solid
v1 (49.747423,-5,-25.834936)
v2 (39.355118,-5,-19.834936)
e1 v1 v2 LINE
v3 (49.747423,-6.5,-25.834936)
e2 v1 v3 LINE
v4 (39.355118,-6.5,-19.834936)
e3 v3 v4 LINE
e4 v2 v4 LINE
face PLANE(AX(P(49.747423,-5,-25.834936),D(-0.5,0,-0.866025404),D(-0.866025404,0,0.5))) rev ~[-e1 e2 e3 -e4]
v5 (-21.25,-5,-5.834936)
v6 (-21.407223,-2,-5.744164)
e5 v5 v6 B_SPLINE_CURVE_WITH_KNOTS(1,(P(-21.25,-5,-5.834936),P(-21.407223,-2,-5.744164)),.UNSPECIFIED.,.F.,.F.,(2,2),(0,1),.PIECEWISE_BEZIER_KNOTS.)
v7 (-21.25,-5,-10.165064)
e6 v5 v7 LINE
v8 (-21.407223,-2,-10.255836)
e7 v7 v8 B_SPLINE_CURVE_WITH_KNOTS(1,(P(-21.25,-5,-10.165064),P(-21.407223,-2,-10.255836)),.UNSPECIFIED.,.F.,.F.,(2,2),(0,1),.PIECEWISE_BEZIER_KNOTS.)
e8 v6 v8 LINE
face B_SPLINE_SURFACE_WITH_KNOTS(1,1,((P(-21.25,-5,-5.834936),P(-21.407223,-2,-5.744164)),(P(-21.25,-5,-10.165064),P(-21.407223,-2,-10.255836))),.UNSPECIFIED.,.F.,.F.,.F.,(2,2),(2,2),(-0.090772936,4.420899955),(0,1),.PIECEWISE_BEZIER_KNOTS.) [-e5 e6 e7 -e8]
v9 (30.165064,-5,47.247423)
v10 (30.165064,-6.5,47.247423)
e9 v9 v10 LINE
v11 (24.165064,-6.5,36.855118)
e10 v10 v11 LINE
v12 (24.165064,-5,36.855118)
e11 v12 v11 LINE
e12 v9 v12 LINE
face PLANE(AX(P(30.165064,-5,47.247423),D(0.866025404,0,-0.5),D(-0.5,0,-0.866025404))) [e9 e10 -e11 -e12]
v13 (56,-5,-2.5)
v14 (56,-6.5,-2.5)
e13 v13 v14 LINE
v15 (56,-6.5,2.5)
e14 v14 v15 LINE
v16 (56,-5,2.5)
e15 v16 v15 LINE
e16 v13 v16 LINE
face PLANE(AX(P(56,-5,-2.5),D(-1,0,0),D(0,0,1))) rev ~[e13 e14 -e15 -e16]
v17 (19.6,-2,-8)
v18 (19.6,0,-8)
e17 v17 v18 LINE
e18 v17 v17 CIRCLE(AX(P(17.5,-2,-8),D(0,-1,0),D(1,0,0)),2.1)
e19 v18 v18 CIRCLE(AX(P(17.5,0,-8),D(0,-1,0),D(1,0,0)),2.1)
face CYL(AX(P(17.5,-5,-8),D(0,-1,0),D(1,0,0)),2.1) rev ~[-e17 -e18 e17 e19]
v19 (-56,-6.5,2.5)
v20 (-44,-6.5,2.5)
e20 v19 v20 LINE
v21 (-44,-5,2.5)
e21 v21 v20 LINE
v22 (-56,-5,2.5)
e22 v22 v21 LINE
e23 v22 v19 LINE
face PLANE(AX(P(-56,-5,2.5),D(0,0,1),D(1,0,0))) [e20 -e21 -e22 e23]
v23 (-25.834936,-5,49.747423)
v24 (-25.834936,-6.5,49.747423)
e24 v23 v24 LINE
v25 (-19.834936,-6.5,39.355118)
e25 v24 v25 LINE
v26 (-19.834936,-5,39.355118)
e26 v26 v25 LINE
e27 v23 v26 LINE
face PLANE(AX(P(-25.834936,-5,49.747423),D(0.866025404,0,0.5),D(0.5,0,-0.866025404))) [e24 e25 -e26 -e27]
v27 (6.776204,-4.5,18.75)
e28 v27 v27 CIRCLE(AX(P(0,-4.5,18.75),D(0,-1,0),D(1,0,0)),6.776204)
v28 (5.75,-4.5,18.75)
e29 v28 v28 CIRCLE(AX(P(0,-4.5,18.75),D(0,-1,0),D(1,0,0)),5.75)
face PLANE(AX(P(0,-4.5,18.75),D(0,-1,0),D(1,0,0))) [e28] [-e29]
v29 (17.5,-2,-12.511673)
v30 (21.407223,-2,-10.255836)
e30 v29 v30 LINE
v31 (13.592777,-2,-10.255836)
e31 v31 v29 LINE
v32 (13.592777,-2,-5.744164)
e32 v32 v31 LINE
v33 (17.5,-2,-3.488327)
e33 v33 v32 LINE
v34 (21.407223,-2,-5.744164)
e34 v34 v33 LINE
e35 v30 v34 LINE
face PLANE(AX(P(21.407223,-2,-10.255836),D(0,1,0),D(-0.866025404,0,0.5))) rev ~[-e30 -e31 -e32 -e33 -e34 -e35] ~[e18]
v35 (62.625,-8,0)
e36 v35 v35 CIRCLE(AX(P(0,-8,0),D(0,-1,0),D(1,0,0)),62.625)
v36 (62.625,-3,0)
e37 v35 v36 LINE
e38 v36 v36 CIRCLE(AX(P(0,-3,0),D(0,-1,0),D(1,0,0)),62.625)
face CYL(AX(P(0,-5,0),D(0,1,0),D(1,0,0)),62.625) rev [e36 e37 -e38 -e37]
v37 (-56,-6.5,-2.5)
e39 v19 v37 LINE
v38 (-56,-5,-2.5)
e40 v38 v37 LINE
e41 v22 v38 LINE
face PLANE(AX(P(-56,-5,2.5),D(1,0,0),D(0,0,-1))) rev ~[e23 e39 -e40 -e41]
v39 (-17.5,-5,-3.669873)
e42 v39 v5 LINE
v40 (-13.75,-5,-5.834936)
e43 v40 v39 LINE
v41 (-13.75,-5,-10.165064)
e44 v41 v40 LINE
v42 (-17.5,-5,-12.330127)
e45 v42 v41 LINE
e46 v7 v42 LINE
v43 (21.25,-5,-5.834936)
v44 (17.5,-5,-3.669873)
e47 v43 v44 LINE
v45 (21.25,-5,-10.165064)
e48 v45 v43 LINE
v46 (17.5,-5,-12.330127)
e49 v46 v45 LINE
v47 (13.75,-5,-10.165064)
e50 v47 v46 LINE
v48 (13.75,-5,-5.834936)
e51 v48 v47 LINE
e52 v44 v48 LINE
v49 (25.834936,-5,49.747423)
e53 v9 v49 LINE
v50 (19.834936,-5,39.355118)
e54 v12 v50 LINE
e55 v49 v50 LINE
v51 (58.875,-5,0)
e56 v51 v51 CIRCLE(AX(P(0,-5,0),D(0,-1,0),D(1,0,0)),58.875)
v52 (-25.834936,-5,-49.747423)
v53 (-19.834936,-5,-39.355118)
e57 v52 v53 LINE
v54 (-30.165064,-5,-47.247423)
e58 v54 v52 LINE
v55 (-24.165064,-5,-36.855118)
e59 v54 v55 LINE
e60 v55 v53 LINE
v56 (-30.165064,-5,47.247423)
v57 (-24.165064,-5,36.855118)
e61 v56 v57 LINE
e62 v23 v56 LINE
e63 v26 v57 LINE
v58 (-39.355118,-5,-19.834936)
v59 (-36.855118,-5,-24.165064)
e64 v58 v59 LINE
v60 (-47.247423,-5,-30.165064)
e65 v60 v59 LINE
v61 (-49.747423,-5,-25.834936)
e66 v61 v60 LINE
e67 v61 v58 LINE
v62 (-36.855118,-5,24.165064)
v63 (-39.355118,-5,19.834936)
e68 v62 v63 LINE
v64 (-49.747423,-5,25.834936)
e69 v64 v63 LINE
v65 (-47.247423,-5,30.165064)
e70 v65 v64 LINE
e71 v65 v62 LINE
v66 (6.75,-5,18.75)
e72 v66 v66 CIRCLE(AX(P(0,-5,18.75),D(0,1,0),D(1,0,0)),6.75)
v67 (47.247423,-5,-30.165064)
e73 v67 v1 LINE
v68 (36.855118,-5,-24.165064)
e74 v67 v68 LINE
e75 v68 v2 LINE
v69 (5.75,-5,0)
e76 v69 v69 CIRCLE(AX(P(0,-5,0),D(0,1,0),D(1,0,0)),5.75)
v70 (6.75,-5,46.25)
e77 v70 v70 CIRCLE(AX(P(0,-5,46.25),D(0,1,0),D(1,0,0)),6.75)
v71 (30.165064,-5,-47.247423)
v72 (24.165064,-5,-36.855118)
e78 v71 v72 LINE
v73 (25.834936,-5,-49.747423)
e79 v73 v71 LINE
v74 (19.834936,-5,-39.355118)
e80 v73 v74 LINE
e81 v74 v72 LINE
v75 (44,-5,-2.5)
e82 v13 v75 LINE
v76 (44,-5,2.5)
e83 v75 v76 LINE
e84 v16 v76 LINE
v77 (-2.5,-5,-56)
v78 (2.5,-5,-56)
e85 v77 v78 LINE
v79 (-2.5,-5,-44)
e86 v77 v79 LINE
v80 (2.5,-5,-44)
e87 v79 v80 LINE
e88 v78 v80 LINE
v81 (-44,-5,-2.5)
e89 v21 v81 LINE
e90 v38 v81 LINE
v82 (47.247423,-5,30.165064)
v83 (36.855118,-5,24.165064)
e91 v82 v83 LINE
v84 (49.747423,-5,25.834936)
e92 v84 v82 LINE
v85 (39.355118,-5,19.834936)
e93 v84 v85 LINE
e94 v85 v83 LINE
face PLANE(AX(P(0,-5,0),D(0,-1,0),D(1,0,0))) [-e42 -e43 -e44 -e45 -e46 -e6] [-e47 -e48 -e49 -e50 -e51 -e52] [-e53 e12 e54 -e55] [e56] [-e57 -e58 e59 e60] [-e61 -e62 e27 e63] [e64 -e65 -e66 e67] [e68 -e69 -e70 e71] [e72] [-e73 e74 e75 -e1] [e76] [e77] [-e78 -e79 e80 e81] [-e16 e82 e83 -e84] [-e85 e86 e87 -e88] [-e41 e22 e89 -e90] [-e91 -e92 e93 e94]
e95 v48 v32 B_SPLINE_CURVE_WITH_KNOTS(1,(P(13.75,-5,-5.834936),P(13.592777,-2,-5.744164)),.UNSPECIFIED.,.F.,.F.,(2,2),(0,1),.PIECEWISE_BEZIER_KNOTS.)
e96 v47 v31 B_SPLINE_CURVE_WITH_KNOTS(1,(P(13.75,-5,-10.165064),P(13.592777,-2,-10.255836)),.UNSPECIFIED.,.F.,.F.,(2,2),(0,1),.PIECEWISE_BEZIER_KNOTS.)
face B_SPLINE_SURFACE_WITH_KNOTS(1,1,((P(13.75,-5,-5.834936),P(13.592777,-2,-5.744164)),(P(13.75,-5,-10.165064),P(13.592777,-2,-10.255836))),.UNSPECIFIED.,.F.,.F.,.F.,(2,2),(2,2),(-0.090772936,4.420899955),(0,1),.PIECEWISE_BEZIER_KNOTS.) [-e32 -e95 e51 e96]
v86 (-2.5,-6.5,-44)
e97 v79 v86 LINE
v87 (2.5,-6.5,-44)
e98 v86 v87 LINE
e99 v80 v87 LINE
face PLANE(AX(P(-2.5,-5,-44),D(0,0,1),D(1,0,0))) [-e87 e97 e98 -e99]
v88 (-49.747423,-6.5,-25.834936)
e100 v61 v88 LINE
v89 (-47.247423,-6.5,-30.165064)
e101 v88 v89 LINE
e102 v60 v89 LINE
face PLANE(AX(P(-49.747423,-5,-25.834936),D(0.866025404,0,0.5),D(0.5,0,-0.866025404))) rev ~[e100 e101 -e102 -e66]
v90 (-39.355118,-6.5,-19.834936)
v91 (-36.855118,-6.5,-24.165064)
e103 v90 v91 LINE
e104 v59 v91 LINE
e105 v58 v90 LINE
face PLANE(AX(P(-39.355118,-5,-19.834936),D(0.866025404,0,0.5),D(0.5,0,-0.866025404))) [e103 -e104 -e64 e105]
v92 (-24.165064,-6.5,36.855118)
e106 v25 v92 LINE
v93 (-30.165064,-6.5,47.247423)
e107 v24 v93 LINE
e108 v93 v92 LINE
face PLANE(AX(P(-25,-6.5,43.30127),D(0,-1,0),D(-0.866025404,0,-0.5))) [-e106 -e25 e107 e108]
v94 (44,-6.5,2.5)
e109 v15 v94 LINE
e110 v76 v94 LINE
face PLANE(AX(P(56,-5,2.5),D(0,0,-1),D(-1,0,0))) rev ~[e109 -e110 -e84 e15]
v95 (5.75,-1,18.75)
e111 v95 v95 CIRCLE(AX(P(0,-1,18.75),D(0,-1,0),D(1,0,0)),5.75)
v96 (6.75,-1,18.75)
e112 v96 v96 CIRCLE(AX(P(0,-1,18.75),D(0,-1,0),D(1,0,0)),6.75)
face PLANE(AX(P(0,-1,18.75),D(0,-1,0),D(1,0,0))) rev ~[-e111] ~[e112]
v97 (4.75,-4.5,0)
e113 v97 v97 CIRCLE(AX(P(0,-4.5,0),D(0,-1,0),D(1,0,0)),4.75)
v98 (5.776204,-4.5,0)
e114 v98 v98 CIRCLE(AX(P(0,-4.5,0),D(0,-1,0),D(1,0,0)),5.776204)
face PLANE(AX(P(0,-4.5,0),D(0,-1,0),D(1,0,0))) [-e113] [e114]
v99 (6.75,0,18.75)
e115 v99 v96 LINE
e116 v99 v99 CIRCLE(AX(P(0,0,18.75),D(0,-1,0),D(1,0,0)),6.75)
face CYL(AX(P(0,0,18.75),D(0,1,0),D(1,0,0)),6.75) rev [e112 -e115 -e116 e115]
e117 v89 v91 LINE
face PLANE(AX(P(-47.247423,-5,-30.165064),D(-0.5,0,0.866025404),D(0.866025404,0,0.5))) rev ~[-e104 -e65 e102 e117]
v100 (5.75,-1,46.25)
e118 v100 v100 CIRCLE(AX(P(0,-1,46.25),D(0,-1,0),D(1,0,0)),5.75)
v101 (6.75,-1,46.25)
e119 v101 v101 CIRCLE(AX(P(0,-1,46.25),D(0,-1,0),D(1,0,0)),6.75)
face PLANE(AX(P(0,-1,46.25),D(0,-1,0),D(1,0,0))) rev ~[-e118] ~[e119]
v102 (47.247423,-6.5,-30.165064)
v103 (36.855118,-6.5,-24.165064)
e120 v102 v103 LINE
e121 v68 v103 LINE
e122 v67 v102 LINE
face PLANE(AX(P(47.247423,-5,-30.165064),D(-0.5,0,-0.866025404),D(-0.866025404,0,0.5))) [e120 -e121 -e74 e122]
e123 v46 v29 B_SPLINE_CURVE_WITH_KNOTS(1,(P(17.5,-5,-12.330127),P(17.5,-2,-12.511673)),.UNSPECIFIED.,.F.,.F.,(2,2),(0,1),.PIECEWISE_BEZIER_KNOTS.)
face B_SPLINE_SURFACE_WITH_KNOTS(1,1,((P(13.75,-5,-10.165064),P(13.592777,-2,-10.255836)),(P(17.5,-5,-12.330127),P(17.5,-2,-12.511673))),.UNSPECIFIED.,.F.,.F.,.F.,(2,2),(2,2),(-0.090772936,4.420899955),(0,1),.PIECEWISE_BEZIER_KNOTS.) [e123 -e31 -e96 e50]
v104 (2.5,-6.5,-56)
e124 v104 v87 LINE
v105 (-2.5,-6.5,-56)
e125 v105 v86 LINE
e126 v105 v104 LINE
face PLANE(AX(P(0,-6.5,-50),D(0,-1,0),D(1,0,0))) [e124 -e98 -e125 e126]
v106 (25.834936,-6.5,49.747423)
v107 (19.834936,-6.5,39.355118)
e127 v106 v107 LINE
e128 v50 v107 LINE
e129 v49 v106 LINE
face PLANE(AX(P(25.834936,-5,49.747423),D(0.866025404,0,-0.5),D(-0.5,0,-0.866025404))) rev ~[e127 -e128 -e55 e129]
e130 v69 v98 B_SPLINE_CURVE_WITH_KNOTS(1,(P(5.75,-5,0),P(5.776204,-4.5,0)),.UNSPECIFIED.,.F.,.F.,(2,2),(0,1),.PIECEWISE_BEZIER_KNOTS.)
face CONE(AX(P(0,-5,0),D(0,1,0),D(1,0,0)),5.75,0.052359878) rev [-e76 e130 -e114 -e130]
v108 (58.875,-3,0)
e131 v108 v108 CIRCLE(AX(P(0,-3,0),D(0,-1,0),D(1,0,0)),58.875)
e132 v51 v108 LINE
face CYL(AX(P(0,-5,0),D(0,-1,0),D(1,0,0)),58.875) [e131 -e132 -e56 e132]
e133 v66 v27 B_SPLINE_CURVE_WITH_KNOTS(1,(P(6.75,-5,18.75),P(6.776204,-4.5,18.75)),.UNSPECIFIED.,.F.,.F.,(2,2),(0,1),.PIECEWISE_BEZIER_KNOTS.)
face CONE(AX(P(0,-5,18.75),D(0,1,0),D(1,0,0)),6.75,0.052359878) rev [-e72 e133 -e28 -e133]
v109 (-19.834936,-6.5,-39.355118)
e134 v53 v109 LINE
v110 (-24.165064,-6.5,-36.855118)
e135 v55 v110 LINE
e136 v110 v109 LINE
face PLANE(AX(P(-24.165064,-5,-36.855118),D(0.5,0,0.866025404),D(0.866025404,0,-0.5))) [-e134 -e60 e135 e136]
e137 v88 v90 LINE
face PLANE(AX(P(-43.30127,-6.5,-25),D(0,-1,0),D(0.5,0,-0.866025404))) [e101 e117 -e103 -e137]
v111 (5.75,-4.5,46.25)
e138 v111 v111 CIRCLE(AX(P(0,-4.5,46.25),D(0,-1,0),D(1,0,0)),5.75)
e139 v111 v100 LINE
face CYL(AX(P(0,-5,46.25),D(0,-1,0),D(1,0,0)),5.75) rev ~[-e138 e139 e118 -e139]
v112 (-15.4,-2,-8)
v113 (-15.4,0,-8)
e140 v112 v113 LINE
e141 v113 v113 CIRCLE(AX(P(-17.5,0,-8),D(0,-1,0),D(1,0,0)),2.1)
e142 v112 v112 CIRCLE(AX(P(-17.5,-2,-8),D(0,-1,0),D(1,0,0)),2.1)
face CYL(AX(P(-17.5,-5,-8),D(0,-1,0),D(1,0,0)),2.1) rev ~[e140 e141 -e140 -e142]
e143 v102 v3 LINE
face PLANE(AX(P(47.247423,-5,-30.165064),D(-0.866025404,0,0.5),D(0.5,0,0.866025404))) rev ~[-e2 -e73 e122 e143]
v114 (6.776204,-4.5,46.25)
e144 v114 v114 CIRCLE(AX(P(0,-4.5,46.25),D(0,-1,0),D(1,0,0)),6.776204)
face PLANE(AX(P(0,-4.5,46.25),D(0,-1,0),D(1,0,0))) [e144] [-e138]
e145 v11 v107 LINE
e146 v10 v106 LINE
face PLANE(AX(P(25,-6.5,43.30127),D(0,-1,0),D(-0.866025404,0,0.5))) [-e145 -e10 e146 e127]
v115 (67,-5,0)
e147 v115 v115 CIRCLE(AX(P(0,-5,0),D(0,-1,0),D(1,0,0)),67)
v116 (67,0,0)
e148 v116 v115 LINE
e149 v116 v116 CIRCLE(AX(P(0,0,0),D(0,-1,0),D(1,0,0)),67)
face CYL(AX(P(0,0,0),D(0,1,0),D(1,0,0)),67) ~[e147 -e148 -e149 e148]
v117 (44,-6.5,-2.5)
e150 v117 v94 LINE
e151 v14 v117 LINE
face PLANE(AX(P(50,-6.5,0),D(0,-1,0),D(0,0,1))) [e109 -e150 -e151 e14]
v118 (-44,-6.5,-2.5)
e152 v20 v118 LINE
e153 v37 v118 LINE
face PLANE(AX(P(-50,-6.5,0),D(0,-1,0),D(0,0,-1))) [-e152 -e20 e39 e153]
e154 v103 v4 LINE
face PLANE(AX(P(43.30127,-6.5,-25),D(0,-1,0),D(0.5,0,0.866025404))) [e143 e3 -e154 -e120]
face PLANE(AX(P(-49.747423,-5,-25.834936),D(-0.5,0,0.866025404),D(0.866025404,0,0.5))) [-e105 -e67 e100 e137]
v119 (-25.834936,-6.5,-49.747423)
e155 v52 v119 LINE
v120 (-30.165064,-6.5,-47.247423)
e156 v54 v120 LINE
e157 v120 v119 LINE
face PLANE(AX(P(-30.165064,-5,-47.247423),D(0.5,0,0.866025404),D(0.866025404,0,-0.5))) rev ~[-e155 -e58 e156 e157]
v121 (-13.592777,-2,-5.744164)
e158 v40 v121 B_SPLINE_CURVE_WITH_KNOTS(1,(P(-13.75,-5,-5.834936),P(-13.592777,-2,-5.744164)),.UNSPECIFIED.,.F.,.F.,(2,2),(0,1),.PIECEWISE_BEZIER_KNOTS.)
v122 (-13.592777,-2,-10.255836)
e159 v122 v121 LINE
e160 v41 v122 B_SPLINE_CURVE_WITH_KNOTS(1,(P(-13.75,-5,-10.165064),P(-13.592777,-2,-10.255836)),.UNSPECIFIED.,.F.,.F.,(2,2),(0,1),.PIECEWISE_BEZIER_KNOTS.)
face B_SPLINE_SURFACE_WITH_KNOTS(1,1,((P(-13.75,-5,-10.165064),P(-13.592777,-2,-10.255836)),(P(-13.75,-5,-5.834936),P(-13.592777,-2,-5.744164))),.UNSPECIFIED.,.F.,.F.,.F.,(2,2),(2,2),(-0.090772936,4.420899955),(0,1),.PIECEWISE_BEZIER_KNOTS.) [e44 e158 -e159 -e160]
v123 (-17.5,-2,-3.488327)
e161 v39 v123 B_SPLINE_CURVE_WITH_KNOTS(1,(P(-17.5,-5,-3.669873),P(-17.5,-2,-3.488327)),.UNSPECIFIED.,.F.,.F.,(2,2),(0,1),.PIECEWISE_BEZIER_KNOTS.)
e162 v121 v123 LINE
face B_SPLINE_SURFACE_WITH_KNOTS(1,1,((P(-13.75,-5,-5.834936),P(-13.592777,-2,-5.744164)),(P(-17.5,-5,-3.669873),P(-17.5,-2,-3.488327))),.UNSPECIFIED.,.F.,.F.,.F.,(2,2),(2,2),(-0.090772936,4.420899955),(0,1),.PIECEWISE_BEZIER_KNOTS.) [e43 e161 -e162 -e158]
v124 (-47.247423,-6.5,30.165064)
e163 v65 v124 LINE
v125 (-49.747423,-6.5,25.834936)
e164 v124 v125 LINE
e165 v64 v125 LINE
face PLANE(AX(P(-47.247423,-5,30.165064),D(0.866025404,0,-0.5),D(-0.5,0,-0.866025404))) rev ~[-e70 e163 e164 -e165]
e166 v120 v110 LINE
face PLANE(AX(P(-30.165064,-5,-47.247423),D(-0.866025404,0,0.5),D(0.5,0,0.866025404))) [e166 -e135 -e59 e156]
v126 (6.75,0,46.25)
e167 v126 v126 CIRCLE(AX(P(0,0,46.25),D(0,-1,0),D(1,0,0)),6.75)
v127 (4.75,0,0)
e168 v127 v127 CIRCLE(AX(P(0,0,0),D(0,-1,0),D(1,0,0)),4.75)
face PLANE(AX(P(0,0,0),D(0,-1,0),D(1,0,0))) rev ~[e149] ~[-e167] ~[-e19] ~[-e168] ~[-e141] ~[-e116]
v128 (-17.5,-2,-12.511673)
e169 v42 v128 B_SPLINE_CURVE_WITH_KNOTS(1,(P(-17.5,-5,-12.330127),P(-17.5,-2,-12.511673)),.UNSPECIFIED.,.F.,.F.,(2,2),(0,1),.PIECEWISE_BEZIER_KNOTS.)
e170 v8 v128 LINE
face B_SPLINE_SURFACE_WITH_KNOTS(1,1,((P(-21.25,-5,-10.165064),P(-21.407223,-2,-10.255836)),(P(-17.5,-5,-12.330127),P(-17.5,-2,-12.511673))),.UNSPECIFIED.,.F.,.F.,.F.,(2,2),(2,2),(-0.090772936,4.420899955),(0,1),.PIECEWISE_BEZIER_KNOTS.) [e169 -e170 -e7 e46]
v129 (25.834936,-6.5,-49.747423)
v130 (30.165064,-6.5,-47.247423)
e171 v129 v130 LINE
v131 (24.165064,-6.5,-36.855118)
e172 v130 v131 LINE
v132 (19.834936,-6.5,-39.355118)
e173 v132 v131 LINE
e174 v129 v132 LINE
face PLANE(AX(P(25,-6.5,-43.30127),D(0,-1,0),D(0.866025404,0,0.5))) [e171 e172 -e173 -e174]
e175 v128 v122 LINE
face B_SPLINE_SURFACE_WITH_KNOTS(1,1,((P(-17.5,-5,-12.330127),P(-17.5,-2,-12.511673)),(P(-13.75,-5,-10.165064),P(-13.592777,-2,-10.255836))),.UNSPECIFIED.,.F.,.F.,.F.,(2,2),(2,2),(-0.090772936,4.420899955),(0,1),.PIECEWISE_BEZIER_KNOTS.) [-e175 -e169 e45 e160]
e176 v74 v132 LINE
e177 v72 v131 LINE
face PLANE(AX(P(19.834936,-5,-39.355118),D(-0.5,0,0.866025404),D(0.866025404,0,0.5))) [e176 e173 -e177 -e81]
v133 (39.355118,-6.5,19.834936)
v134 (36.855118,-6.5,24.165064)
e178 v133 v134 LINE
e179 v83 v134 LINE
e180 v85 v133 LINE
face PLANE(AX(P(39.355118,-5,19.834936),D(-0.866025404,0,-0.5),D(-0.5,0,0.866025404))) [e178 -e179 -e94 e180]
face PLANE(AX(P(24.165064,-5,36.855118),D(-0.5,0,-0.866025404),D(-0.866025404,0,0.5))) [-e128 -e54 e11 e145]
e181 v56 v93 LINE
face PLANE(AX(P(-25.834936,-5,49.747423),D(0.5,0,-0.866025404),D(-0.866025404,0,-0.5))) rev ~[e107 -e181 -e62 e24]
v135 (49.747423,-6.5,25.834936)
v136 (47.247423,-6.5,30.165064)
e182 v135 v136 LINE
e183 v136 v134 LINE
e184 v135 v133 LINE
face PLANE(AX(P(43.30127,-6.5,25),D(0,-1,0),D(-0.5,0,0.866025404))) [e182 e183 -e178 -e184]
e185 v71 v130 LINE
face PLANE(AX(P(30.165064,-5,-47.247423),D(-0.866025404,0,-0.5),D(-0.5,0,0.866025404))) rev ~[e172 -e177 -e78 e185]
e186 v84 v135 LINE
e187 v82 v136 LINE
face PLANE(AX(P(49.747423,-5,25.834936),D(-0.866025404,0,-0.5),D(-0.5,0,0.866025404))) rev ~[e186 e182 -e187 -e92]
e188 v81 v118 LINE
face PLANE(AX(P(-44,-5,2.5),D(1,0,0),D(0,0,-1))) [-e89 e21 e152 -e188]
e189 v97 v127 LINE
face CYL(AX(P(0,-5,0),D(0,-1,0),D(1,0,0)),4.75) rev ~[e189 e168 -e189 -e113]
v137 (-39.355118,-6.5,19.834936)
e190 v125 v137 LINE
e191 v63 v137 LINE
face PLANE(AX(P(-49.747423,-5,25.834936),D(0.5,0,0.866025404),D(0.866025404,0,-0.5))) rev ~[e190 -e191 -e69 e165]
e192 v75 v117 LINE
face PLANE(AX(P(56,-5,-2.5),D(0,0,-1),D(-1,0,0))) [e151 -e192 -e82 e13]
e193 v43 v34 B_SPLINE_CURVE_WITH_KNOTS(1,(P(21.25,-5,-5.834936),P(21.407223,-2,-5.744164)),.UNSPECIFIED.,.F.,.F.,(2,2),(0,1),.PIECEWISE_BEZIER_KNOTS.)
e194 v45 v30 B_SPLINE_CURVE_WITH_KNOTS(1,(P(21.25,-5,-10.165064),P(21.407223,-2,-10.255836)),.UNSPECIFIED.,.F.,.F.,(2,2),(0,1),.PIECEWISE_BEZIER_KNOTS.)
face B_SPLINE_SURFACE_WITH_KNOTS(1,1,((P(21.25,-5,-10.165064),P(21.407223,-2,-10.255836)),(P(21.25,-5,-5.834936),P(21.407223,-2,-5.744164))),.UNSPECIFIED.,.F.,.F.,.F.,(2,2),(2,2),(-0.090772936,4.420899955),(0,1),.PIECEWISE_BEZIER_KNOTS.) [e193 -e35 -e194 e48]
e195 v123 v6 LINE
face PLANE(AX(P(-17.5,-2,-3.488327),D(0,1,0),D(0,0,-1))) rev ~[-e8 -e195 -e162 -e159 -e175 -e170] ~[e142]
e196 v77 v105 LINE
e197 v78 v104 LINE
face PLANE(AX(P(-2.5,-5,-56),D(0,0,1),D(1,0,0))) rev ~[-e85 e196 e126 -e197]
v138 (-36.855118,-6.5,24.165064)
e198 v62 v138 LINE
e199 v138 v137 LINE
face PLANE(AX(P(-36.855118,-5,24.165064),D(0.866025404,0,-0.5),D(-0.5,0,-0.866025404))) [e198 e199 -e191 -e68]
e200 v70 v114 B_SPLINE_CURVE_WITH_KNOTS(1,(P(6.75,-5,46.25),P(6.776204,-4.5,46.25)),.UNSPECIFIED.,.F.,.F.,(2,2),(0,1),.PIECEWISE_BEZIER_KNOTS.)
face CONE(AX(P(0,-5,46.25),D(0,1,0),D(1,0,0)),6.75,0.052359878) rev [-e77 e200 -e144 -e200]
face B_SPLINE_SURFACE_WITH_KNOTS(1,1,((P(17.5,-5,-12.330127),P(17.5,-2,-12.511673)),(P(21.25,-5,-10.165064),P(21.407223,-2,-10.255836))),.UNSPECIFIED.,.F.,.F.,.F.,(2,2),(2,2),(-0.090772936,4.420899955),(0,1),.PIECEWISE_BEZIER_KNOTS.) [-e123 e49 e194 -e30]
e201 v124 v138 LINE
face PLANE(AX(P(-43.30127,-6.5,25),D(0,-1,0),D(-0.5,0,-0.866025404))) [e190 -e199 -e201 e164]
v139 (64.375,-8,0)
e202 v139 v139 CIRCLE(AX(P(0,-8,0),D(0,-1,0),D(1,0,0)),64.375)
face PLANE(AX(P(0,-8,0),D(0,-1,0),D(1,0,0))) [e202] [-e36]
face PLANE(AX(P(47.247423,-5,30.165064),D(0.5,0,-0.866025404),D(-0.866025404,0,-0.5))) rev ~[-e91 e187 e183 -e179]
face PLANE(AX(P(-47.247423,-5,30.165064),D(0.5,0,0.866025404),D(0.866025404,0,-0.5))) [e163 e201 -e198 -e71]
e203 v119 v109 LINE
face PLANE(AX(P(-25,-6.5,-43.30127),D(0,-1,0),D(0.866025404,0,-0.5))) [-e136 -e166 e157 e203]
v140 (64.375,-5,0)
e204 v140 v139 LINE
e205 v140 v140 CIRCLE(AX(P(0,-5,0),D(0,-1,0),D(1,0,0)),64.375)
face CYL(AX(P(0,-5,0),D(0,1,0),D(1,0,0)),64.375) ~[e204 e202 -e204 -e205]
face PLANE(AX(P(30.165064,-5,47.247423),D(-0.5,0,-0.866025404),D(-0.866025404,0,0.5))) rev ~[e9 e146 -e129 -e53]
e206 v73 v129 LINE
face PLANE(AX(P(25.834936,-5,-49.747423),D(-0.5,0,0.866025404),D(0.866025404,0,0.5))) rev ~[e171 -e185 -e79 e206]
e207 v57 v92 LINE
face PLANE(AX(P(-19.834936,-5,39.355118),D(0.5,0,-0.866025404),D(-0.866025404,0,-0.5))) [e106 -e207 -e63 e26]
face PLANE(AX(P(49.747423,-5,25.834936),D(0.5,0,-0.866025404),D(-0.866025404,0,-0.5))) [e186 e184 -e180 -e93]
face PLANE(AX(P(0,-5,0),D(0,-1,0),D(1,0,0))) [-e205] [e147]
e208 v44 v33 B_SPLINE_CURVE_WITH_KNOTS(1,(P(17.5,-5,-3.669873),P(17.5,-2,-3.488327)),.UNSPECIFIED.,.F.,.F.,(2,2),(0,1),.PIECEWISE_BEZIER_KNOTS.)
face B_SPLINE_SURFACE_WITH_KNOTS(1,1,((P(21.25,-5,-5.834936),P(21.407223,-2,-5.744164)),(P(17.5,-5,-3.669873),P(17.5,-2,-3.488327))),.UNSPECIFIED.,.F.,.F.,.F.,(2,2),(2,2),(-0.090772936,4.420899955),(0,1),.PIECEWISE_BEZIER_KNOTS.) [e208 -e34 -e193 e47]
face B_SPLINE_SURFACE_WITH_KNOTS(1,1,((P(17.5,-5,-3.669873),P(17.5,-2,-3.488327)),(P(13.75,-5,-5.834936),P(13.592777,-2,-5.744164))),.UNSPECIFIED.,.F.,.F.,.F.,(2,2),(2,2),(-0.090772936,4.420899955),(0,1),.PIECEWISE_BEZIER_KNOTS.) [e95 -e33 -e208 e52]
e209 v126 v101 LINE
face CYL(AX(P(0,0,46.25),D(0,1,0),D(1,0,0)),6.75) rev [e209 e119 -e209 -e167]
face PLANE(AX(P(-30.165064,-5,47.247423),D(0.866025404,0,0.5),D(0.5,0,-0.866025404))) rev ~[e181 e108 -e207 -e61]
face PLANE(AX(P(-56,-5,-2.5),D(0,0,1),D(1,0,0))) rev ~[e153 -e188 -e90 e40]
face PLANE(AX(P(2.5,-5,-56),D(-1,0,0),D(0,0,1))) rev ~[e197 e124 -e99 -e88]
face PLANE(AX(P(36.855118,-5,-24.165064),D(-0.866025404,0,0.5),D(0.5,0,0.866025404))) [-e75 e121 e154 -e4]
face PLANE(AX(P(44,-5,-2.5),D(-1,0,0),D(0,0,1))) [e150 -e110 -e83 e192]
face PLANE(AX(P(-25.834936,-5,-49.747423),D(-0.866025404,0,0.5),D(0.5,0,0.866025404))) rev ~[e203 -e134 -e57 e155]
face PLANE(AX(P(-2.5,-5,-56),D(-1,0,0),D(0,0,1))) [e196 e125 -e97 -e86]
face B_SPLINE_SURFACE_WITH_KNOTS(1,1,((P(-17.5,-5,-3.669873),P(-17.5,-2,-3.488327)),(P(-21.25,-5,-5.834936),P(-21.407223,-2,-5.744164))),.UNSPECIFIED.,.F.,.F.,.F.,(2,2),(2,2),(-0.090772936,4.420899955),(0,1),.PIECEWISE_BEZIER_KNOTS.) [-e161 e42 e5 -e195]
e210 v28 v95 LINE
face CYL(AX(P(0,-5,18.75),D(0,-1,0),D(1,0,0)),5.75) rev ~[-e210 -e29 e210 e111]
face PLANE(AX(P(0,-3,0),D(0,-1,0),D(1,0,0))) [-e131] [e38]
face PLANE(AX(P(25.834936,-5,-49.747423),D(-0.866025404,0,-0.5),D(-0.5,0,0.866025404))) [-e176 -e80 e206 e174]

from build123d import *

# Parameters (mm, degrees)
F0_R      = 67
F1_DEPTH  = 5
F2_R      = 64.375
F2_R_2    = 62.625
F3_DEPTH  = 3
F2_R_3    = 58.875
F4_DEPTH  = 2
F5_R      = 4.75
F5_R_2    = 5.75
F5_R_3    = 2.1
F6_DEPTH  = 25
F7_R      = 5.75
F7_R_2    = 6.75
F8_DEPTH  = 0.5
F8_TAPER  = -3
F10_DEPTH = 3
F10_TAPER = -3
F11_R     = 6.75
F12_DEPTH = 1
F13_W     = 5
F13_H     = 12
F14_DEPTH = 1.5
F15_COUNT = 6
F15_ANGLE = 150
F16_COUNT = 6
F16_ANGLE = 150


with BuildPart() as f1:
    # F0 (on Front) → F1 (new body)
    with BuildSketch(Plane.XZ):
        Circle(F0_R)
    extrude(amount=F1_DEPTH)

    # F2 (on face) → F3 (join)
    with BuildSketch(Plane.XZ.offset(5)):
        Circle(F2_R)
        Circle(F2_R_2, mode=Mode.SUBTRACT)
    extrude(amount=F3_DEPTH)

    # F2 (on face) → F4 (cut)
    with BuildSketch(Plane.XZ.offset(5)):
        Circle(F2_R_2)
        Circle(F2_R_3, mode=Mode.SUBTRACT)
    extrude(amount=-F4_DEPTH, mode=Mode.SUBTRACT)

    # F5 (on face) → F6 (cut)
    with BuildSketch(Plane.XZ.offset(5)):
        Circle(F5_R)
        with Locations((0, 18.75)):
            Circle(F5_R_2)
        with Locations((0, 46.25)):
            Circle(F5_R_2)
        with Locations((17.5, -8)):
            Circle(F5_R_3)
        with Locations((-17.5, -8)):
            Circle(F5_R_3)
    extrude(amount=-F6_DEPTH, mode=Mode.SUBTRACT)

    # F7 (on face) → F8 (cut)
    with BuildSketch(Plane.XZ.offset(5)):
        Circle(F7_R)
        with Locations((0, 18.75)):
            Circle(F7_R_2)
        with Locations((0, 46.25)):
            Circle(F7_R_2)
    extrude(amount=-F8_DEPTH, taper=F8_TAPER, mode=Mode.SUBTRACT)

    # F9 (on face) → F10 (cut)
    with BuildSketch(Plane.XZ.offset(5)):
        Polygon((21.25, -10.1650635095), (21.25, -5.8349364905), (17.5, -3.6698729811), (13.75, -5.8349364905), (13.75, -10.1650635095), (17.5, -12.3301270189), align=None)
        Polygon((-17.5, -3.6698729811), (-21.25, -5.8349364905), (-21.25, -10.1650635095), (-17.5, -12.3301270189), (-13.75, -10.1650635095), (-13.75, -5.8349364905), align=None)
    extrude(amount=-F10_DEPTH, taper=F10_TAPER, mode=Mode.SUBTRACT)

    # F11 (on Front) → F12 (cut)
    with BuildSketch(Plane.XZ):
        with Locations((0, 46.25)):
            Circle(F11_R)
        with Locations((0, 18.75)):
            Circle(F11_R)
    extrude(amount=F12_DEPTH, mode=Mode.SUBTRACT)

    # F13 (on face) → F14 (join)
    with BuildSketch(Plane.XZ.offset(5)):
        with Locations((0, -50)):
            Rectangle(F13_W, F13_H)
    f14 = extrude(amount=F14_DEPTH)

    # F15: F14 ×6 about axis
    f15_axis = Axis((0, -5, 0), (0, -1, 0))
    for i in range(1, F15_COUNT):
        add(f14.rotate(f15_axis, i * F15_ANGLE / (F15_COUNT - 1)))

    # F16: F14 ×6 about axis
    f16_axis = Axis((0, -5, 0), (0, 1, 0))
    for i in range(1, F16_COUNT):
        add(f14.rotate(f16_axis, i * F16_ANGLE / (F16_COUNT - 1)))


solid = f1.part
